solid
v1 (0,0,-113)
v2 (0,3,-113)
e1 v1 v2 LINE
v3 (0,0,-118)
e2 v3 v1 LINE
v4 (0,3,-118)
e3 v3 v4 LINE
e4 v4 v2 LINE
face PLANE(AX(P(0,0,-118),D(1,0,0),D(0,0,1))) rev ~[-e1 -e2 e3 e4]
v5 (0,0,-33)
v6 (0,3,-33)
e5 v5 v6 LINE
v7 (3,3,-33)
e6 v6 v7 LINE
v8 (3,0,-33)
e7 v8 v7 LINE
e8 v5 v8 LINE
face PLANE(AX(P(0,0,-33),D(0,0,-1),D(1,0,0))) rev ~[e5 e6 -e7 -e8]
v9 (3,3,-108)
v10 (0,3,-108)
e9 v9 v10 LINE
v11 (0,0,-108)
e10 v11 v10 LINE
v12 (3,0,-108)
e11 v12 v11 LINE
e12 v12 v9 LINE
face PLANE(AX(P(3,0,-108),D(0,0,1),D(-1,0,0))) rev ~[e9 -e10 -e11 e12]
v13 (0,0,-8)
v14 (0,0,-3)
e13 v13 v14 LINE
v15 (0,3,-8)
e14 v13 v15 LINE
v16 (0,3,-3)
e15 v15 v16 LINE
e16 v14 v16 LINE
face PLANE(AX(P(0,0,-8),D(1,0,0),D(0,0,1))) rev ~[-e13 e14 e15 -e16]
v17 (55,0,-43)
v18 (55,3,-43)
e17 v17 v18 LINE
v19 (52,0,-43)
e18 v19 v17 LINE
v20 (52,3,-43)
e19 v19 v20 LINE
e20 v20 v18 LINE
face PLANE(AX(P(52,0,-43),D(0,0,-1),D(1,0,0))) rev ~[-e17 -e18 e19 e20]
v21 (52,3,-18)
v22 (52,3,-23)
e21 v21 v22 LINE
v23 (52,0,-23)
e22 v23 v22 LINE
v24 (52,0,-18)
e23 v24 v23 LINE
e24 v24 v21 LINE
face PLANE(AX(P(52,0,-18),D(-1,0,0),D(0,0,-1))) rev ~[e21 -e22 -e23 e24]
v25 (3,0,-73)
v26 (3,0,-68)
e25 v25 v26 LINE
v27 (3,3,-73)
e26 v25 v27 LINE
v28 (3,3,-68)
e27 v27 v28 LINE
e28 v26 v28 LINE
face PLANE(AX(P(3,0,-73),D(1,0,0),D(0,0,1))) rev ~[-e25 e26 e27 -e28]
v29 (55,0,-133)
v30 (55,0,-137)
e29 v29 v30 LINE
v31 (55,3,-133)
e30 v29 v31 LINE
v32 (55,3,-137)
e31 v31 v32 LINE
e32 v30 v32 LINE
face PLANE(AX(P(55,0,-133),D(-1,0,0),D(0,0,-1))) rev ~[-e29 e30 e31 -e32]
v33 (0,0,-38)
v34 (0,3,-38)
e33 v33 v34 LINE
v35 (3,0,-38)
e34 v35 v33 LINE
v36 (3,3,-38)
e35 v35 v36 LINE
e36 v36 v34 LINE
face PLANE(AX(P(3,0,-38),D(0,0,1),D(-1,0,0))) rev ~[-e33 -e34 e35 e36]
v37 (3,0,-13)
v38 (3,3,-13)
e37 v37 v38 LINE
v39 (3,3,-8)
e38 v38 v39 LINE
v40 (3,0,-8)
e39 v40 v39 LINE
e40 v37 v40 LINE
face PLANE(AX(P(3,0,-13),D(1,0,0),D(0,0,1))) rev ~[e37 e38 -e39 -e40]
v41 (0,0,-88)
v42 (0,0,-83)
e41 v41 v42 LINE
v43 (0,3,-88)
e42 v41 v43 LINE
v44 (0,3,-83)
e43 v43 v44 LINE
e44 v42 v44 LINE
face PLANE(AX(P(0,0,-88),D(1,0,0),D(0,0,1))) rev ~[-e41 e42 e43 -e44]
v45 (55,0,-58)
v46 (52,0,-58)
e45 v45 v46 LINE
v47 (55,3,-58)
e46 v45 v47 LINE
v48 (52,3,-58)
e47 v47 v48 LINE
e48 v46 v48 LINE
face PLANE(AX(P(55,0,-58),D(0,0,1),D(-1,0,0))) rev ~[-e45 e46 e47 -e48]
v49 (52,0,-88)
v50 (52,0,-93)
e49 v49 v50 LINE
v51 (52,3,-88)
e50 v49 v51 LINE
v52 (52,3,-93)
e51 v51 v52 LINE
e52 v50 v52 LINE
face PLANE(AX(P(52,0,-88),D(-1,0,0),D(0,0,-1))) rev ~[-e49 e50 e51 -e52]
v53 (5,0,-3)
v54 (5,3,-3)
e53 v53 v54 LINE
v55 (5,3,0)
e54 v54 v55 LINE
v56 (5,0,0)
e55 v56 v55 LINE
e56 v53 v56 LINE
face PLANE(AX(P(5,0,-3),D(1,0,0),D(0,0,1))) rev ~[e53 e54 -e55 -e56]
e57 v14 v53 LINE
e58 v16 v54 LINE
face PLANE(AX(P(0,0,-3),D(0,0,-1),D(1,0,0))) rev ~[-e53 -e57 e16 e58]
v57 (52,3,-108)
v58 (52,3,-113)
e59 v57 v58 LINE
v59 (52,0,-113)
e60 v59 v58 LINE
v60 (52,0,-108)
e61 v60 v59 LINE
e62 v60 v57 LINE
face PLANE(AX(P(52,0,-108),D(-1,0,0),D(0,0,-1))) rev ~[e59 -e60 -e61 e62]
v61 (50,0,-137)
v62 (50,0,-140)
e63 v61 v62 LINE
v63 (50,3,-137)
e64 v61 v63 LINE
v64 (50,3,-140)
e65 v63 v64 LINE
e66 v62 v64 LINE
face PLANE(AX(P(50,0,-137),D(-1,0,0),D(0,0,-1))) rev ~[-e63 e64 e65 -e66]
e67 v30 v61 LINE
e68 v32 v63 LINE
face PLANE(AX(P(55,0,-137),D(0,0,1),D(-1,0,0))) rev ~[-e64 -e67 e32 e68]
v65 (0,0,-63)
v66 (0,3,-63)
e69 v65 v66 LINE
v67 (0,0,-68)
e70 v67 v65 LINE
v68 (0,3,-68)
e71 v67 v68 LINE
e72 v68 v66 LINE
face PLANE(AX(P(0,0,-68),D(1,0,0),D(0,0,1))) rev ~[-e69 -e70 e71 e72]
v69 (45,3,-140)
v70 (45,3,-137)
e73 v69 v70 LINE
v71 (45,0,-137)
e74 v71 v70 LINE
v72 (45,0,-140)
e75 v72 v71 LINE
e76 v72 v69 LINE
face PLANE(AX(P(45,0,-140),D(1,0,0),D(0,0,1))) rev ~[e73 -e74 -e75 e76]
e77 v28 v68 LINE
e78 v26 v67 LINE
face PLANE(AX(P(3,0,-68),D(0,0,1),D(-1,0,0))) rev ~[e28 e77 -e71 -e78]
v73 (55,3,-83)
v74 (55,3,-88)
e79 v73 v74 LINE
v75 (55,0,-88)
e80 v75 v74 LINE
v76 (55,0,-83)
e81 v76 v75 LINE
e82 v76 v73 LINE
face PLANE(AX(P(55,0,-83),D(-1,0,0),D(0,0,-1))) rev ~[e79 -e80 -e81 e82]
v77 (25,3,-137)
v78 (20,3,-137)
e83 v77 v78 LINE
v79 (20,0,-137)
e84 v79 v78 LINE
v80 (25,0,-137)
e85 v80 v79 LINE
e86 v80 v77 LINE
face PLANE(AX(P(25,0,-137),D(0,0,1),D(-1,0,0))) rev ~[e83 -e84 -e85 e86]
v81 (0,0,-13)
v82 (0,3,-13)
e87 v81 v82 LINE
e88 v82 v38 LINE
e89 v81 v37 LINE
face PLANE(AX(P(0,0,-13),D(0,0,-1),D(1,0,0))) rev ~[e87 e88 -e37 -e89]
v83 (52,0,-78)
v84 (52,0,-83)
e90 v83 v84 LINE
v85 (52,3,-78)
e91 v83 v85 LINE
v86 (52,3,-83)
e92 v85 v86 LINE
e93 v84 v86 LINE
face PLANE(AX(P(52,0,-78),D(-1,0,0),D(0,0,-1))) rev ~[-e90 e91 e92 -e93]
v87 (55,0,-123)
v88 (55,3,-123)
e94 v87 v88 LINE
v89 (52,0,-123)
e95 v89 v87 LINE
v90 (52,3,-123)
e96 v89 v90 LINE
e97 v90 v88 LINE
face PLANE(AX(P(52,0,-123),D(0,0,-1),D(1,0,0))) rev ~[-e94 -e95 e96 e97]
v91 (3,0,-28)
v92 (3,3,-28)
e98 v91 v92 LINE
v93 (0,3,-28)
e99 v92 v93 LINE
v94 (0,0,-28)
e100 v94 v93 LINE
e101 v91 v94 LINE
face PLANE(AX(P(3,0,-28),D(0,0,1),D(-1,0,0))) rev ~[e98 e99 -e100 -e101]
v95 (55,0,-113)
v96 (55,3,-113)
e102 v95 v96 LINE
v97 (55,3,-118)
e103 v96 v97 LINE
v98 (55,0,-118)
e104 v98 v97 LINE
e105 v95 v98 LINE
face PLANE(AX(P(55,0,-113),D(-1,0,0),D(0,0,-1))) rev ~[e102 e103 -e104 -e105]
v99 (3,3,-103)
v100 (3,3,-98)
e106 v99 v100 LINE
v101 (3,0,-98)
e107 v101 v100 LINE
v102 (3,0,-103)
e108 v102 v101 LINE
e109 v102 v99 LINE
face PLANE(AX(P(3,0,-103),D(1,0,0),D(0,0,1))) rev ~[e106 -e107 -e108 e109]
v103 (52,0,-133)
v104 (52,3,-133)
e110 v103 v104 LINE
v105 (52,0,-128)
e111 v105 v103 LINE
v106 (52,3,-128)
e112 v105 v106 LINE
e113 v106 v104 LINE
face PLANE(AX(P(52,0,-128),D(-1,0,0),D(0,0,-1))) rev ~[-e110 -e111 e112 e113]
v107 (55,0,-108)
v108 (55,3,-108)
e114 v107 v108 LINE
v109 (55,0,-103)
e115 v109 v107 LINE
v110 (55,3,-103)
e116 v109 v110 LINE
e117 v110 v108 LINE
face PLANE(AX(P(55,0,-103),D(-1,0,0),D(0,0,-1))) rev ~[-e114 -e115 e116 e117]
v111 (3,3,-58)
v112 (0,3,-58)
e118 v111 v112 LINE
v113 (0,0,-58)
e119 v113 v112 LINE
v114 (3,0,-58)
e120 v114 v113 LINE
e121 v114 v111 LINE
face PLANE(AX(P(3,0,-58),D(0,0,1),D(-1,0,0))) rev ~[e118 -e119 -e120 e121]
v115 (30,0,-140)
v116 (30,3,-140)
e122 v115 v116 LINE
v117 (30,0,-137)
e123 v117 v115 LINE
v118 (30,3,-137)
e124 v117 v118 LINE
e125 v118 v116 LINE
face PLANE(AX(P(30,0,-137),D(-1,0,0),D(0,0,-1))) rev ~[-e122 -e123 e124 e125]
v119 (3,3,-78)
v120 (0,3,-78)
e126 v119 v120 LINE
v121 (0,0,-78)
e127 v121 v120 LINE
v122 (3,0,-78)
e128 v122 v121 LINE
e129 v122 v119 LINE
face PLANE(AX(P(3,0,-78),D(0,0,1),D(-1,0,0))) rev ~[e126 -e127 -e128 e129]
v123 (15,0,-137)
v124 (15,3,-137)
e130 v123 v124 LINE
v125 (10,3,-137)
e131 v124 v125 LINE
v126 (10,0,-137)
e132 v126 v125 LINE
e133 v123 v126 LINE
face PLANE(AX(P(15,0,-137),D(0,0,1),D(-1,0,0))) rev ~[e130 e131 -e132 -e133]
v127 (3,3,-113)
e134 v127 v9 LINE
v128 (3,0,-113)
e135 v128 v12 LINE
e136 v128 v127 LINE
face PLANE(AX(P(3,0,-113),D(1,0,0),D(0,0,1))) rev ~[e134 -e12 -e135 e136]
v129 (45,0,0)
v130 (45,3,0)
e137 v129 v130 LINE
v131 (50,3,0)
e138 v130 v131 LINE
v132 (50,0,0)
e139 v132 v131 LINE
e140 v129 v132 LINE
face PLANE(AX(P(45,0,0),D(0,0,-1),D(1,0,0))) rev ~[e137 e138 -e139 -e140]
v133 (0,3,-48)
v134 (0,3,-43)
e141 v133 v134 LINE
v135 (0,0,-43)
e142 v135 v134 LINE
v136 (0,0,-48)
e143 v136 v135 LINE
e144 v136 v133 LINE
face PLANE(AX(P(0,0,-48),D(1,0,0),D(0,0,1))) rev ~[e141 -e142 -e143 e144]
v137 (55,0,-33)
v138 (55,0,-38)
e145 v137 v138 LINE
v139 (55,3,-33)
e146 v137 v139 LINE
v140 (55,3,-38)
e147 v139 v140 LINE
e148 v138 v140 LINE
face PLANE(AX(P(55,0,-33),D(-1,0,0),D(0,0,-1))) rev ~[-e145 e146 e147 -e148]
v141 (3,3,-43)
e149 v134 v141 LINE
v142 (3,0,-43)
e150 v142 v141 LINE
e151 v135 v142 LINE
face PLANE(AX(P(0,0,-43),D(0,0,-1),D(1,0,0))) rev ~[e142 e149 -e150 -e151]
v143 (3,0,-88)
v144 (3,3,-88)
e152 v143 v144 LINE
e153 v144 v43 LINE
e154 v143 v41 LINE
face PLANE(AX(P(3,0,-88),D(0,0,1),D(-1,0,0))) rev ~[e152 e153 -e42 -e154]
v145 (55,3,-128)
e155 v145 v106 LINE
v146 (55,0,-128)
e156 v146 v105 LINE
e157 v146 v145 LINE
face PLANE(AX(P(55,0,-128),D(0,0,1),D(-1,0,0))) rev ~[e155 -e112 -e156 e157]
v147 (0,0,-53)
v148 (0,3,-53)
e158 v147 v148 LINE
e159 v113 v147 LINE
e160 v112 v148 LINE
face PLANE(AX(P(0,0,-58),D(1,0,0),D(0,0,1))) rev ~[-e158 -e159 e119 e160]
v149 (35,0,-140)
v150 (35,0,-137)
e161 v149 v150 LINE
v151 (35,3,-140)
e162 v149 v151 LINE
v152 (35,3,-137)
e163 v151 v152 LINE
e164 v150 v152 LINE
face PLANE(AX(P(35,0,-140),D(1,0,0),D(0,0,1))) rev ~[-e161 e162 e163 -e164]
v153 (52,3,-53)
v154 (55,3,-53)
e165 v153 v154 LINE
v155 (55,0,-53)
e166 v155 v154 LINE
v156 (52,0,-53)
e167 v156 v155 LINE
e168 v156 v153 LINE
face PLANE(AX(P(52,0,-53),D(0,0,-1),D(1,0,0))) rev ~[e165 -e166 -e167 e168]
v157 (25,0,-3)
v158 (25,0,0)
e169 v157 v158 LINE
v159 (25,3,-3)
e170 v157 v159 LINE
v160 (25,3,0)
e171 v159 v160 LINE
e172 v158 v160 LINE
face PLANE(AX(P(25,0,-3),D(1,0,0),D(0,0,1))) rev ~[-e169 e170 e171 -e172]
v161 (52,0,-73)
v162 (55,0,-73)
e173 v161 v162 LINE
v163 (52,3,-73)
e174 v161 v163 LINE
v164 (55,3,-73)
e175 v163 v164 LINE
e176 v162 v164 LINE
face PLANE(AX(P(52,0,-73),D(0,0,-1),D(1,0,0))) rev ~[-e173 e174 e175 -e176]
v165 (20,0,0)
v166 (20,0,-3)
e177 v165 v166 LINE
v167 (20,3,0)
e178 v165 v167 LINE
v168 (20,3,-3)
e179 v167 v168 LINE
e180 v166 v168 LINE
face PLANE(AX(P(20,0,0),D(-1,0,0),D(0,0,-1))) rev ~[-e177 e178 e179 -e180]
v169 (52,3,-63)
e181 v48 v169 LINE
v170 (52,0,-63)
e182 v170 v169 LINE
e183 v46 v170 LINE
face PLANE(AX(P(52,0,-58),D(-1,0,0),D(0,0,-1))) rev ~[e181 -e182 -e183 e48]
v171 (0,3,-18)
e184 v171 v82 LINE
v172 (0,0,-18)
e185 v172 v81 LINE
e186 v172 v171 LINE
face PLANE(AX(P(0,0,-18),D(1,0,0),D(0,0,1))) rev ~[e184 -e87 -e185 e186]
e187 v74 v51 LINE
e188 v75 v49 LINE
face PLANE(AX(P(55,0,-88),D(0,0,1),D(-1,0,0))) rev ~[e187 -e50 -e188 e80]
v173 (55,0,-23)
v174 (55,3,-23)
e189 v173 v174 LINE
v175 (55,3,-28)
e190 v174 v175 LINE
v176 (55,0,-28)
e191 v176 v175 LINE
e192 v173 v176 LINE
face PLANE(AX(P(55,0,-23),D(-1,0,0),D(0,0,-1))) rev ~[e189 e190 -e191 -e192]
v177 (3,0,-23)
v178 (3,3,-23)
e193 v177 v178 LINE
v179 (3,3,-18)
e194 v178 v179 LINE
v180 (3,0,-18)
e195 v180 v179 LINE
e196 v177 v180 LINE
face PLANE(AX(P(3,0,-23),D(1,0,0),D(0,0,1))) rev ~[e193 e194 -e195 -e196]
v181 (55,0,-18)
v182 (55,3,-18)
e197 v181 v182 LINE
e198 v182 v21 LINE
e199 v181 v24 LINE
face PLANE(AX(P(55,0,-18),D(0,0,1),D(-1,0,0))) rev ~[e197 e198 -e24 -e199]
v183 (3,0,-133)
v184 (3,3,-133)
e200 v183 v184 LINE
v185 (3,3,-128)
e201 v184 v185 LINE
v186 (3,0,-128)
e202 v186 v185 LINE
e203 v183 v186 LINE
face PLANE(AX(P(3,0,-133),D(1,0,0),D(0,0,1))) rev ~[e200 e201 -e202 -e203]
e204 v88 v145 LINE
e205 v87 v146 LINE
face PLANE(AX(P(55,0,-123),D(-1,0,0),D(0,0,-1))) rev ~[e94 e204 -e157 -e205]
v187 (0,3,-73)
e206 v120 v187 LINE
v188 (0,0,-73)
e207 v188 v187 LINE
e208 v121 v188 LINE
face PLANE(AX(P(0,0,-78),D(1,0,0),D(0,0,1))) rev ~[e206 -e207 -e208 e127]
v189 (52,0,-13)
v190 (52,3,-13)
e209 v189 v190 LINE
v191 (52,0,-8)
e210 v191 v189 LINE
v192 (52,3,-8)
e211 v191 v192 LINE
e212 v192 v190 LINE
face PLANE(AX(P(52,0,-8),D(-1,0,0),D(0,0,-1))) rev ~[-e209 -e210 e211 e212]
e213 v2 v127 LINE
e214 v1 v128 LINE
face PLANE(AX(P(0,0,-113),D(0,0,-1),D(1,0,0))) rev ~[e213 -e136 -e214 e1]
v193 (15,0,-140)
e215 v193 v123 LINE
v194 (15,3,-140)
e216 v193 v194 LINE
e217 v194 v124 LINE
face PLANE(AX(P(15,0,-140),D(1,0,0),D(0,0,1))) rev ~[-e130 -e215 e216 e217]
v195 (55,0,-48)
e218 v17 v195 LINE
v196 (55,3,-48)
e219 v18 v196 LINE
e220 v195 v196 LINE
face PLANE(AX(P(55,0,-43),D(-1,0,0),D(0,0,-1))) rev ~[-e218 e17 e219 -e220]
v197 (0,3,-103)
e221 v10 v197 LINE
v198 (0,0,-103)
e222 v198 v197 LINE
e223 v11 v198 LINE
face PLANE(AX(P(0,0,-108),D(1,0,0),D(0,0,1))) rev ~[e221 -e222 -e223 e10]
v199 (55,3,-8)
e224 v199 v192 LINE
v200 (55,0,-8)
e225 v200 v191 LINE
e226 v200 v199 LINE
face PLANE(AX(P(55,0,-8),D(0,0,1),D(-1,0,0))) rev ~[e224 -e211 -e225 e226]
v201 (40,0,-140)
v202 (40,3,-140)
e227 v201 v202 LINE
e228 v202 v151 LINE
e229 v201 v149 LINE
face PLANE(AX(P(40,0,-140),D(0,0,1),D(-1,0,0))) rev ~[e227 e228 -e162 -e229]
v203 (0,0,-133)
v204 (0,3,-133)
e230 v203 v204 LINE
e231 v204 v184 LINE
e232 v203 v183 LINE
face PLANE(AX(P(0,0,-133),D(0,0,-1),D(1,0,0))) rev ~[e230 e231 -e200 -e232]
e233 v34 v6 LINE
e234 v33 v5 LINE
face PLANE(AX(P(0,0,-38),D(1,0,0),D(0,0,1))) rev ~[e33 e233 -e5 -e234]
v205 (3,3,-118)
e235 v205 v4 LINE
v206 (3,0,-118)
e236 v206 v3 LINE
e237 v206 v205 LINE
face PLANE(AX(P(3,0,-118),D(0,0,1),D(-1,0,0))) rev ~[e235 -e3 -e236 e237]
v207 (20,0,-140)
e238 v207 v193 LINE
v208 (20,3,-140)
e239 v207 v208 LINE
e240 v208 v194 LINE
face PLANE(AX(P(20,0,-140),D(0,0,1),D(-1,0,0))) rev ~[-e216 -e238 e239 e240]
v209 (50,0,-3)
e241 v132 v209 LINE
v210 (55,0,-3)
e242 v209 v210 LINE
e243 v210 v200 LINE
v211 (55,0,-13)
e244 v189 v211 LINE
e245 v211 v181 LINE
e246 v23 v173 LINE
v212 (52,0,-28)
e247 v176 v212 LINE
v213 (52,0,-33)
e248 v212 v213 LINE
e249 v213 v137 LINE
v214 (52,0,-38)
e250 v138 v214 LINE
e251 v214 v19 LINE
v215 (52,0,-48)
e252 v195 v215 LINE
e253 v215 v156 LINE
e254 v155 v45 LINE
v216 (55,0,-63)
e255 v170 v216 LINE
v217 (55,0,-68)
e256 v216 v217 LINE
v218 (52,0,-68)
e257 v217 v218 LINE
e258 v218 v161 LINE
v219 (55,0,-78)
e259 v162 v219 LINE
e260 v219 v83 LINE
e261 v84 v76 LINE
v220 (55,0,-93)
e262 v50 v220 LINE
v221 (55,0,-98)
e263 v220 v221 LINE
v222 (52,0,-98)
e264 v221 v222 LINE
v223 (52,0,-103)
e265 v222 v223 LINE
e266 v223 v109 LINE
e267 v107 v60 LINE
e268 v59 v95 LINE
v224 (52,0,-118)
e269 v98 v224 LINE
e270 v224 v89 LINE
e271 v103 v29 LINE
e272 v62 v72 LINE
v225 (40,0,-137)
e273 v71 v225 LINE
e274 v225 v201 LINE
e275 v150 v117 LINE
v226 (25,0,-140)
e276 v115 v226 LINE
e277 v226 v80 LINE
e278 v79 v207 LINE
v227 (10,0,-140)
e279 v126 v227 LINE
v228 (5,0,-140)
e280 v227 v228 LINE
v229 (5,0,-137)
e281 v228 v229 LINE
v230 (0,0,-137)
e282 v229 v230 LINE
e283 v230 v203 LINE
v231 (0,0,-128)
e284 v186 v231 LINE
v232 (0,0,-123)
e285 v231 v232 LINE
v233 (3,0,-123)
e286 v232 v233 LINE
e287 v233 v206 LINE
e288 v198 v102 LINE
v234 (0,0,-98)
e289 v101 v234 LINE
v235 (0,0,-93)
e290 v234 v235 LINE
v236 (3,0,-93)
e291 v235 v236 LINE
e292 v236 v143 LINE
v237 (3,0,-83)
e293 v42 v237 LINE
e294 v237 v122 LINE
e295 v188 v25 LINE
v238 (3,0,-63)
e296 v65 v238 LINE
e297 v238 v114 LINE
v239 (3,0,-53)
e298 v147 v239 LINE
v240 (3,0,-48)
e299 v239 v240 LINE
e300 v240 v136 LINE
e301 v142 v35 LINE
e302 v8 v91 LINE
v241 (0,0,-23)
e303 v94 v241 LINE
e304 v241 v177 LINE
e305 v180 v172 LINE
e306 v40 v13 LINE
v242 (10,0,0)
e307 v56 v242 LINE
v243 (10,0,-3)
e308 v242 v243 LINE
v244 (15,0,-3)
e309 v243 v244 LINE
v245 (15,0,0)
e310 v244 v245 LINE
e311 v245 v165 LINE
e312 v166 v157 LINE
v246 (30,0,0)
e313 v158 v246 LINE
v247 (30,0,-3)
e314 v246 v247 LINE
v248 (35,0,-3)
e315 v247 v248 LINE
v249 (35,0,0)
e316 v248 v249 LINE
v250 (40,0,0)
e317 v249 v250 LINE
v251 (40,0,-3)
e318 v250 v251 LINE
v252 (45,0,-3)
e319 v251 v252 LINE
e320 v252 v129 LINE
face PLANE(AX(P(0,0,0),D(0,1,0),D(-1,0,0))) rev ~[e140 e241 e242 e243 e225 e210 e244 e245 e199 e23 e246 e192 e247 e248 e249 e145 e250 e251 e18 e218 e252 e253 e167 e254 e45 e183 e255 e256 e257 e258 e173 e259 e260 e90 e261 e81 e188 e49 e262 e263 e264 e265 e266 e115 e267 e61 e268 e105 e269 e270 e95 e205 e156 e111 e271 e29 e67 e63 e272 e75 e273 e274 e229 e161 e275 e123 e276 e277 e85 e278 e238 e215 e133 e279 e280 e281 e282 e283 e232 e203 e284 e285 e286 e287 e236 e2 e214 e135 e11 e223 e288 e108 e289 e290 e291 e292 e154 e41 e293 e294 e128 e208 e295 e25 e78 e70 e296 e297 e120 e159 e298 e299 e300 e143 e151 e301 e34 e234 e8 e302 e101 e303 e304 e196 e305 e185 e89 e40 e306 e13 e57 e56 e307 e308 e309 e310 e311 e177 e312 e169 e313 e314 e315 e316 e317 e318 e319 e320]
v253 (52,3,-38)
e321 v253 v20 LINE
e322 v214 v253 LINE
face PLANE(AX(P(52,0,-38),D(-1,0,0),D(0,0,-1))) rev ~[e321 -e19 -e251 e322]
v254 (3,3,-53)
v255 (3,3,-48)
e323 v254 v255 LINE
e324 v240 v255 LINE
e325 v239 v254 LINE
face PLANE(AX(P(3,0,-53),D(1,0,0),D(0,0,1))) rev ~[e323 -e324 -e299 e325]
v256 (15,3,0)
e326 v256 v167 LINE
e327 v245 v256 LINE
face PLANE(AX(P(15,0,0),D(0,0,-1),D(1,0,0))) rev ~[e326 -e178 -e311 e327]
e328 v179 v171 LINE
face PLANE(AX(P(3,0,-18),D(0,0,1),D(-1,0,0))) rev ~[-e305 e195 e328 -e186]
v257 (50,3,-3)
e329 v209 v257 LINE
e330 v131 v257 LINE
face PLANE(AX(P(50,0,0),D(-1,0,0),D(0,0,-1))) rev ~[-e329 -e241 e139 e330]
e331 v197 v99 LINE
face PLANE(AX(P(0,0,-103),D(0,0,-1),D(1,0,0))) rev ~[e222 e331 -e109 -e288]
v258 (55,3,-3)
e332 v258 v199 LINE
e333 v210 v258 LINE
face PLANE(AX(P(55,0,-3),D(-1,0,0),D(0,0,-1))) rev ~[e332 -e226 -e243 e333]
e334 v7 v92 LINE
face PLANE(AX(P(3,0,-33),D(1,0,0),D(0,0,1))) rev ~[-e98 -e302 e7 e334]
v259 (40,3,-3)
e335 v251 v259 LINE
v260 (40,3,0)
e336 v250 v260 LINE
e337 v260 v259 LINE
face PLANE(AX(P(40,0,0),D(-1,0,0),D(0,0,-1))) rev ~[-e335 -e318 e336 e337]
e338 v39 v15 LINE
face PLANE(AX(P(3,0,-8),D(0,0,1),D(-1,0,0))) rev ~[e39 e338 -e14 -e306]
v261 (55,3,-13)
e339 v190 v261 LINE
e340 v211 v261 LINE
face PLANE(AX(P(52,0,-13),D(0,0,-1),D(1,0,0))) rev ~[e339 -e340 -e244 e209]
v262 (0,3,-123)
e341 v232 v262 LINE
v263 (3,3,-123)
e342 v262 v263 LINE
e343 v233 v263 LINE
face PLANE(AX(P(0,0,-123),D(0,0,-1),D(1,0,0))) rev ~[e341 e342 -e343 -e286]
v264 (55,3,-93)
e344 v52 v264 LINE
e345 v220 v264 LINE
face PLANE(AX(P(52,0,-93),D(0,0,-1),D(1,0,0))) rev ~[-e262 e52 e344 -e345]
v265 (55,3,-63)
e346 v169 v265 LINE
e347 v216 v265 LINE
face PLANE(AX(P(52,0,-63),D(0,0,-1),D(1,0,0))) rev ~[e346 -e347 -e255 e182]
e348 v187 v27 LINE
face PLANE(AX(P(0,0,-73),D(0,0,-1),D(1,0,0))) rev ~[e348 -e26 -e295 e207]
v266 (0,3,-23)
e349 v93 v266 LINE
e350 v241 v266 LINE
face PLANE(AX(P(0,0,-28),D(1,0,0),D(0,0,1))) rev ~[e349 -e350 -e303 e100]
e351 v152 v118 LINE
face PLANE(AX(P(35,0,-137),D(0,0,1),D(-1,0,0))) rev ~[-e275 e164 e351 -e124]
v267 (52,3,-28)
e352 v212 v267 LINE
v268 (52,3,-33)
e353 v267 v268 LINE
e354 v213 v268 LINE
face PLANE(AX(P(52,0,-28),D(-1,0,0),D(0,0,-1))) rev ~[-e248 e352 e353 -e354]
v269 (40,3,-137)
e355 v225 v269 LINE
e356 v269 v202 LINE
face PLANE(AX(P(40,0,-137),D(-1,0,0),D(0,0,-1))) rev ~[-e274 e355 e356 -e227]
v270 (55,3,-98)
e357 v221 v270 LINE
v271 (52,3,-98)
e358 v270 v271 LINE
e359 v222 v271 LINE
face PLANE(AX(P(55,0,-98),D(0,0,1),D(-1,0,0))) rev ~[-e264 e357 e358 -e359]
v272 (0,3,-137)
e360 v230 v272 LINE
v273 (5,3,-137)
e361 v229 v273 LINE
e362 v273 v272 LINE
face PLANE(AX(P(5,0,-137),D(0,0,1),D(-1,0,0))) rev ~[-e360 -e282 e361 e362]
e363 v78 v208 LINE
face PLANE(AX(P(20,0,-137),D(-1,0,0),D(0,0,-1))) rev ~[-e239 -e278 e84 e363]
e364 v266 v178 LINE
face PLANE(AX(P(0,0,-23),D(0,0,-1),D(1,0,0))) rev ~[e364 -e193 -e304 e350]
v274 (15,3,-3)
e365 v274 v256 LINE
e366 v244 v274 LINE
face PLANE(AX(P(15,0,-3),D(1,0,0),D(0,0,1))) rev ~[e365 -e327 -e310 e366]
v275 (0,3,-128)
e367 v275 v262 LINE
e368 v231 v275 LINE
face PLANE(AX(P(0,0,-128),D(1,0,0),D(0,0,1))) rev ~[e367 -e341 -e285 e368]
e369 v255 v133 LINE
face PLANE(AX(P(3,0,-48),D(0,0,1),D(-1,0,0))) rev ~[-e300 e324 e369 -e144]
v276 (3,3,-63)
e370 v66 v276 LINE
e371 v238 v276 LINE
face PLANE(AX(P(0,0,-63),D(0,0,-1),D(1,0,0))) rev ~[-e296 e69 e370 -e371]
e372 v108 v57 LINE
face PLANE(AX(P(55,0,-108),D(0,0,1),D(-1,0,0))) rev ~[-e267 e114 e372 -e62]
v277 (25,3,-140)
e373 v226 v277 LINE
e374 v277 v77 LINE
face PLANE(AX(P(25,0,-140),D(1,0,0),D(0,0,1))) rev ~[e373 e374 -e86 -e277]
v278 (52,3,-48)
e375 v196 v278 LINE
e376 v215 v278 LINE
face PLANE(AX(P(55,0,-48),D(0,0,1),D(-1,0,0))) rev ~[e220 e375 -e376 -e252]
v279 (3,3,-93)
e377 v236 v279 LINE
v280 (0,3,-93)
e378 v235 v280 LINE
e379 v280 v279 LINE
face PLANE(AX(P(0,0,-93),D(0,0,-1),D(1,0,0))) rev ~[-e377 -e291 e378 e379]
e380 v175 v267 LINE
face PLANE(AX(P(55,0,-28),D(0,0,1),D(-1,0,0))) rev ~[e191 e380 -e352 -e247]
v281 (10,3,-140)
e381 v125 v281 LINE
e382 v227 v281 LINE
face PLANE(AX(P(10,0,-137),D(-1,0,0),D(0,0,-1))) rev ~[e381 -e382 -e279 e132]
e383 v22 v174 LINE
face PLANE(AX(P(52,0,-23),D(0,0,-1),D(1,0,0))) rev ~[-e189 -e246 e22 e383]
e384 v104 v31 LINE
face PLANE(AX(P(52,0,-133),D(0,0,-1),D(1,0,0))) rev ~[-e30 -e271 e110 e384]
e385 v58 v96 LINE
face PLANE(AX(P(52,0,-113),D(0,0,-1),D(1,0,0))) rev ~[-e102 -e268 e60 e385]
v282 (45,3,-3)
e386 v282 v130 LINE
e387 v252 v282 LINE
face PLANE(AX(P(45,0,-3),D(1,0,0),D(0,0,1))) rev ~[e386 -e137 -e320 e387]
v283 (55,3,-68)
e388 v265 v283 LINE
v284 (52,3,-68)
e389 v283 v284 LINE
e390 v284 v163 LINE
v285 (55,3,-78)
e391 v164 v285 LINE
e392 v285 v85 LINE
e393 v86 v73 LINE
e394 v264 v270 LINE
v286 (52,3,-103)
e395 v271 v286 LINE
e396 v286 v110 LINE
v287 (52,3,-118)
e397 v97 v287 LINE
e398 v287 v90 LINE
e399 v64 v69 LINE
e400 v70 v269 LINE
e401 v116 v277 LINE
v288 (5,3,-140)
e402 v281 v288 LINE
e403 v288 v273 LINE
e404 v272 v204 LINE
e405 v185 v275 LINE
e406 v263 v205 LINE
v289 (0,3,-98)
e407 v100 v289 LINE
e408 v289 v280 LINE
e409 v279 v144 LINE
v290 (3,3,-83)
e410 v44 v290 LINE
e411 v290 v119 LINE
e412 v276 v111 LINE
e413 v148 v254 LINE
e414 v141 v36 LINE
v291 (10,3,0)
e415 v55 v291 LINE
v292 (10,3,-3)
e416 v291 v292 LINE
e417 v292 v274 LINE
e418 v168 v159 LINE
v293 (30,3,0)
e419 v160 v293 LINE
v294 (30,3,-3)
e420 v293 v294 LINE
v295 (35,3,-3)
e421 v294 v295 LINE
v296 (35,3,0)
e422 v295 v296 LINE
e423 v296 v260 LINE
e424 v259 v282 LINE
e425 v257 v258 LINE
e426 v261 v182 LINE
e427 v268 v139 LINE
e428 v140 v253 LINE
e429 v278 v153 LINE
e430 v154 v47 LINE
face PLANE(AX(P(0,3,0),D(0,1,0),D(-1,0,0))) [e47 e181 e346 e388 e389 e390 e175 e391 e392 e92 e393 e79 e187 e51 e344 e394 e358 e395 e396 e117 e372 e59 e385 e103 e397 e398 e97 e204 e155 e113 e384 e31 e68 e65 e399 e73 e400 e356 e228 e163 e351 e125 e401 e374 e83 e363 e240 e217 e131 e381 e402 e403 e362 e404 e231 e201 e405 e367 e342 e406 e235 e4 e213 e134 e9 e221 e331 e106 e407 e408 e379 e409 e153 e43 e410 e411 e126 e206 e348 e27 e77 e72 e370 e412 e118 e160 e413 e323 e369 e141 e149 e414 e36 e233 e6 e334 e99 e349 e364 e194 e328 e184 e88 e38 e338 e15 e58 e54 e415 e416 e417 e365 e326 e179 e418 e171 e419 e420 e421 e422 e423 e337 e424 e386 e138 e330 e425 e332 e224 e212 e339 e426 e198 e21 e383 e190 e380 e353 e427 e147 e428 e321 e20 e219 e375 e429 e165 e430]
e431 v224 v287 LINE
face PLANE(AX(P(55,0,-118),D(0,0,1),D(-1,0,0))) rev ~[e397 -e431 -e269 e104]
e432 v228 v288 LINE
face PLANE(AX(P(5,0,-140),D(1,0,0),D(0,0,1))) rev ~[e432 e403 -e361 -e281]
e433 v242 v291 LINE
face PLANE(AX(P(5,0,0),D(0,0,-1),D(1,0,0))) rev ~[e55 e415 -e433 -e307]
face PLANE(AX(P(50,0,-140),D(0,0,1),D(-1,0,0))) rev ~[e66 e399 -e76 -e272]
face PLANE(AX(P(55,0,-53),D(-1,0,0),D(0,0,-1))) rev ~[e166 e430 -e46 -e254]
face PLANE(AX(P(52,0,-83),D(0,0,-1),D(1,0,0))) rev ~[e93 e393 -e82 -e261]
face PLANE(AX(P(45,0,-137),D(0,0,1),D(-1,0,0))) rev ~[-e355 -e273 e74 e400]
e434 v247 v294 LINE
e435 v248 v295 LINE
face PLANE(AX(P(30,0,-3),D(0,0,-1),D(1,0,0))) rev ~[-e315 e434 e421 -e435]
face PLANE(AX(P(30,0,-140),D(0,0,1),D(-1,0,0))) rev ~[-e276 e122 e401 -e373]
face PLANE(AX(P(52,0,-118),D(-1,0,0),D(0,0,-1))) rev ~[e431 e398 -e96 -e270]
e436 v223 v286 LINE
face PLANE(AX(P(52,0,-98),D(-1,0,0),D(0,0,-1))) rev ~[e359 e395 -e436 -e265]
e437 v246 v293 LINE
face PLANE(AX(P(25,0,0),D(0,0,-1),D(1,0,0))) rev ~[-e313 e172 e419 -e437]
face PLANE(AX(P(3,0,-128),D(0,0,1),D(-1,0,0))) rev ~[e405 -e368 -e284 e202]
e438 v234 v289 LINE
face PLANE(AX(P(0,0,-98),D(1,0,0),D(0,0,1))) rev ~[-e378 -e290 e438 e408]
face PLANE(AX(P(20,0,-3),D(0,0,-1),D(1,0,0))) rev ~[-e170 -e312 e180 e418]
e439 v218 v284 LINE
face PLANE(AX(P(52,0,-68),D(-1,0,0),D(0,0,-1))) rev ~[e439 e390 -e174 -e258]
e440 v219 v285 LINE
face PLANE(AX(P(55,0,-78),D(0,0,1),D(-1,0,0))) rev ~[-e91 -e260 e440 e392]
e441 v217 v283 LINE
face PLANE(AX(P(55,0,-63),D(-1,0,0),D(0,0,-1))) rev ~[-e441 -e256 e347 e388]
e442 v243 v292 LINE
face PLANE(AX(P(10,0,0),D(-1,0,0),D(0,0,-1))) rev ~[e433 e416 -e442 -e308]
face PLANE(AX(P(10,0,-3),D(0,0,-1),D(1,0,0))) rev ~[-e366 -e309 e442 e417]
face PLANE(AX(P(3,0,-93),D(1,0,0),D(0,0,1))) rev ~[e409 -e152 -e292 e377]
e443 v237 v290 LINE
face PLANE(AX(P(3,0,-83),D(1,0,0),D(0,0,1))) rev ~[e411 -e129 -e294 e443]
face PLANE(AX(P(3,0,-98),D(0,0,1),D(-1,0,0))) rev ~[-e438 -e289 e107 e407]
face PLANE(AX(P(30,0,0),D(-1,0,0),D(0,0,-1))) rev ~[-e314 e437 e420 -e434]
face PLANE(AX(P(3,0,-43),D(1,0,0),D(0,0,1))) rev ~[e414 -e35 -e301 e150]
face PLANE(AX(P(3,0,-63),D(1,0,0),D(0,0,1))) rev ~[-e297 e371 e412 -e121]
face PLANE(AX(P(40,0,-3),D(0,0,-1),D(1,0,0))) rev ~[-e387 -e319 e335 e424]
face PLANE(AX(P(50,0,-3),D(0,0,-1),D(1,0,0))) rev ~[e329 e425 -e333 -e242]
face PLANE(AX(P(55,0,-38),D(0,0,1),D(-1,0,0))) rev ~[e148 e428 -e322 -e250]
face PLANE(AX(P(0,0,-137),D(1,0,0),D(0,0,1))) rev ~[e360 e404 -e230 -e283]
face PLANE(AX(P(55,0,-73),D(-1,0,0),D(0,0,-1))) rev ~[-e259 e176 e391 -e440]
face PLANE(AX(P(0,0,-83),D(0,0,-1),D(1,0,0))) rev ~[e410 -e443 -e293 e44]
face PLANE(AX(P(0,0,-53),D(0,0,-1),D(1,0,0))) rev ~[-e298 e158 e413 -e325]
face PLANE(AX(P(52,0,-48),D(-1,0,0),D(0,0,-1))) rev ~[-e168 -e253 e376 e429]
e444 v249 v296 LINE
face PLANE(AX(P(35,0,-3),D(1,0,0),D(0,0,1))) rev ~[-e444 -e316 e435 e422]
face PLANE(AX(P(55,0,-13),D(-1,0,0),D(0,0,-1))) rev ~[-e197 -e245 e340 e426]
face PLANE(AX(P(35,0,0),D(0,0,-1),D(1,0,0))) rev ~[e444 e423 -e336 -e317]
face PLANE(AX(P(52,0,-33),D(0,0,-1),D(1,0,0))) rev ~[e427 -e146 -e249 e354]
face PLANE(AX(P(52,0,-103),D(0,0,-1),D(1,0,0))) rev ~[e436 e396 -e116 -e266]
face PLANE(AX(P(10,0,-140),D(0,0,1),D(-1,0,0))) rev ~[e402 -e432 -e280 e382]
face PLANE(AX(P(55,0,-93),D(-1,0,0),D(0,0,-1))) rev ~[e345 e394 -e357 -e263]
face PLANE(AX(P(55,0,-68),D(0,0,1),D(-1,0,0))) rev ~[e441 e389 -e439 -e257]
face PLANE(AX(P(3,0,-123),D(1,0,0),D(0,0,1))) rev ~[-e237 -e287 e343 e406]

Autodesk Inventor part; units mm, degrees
ref_plane "YZ Plane" through (0, 0, 0) normal (1, 0, 0) x (0, 1, 0)
ref_plane "XZ Plane" through (0, 0, 0) normal (0, 1, 0) x (-1, 0, 0)
ref_plane "XY Plane" through (0, 0, 0) normal (0, 0, 1) x (1, 0, 0)
sketch "Skizze1" plane through (0, 0, 0) normal (0, 1, 0) x (-1, 0, 0)
  line L0 (0, -3) -> (-5, -3)
  line L1 (-5, -3) -> (-5, 0)
  line L2 (-5, 0) -> (-10, 0)
  line L3 (-10, 0) -> (-10, -3)
  line L4 (-10, -3) -> (-15, -3)
  line L5 (-15, -3) -> (-15, 0)
  line L6 (-15, 0) -> (-20, 0)
  line L7 (-20, 0) -> (-20, -3)
  line L8 (-20, -3) -> (-25, -3)
  line L9 (-25, -3) -> (-25, 0)
  line L10 (-25, 0) -> (-30, 0)
  line L11 (-30, 0) -> (-30, -3)
  line L12 (-30, -3) -> (-35, -3)
  line L13 (-35, -3) -> (-35, 0)
  line L14 (-35, 0) -> (-40, 0)
  line L15 (-40, 0) -> (-40, -3)
  line L16 (-40, -3) -> (-45, -3)
  line L17 (-45, -3) -> (-45, 0)
  line L18 (-45, 0) -> (-50, 0)
  line L19 (-50, 0) -> (-50, -3)
  line L20 (-50, -3) -> (-55, -3)
  line L21 (-55, -3) -> (-55, -8)
  line L22 (-55, -8) -> (-52, -8)
  line L23 (-52, -8) -> (-52, -13)
  line L24 (-52, -13) -> (-55, -13)
  line L25 (-52, -18) -> (-52, -23)
  line L26 (-55, -13) -> (-55, -18)
  line L27 (-55, -18) -> (-52, -18)
  line L28 (-52, -23) -> (-55, -23)
  line L29 (-52, -28) -> (-52, -33)
  line L30 (-55, -23) -> (-55, -28)
  line L31 (-55, -28) -> (-52, -28)
  line L32 (-52, -33) -> (-55, -33)
  line L33 (-52, -38) -> (-52, -43)
  line L34 (-55, -33) -> (-55, -38)
  line L35 (-55, -38) -> (-52, -38)
  line L36 (-52, -43) -> (-55, -43)
  line L37 (-52, -48) -> (-52, -53)
  line L38 (-55, -43) -> (-55, -48)
  line L39 (-55, -48) -> (-52, -48)
  line L40 (-52, -53) -> (-55, -53)
  line L41 (-52, -58) -> (-52, -63)
  line L42 (-55, -53) -> (-55, -58)
  line L43 (-55, -58) -> (-52, -58)
  line L44 (-52, -63) -> (-55, -63)
  line L45 (-52, -68) -> (-52, -73)
  line L46 (-55, -63) -> (-55, -68)
  line L47 (-55, -68) -> (-52, -68)
  line L48 (-52, -73) -> (-55, -73)
  line L49 (-52, -78) -> (-52, -83)
  line L50 (-55, -73) -> (-55, -78)
  line L51 (-55, -78) -> (-52, -78)
  line L52 (-52, -83) -> (-55, -83)
  line L53 (-52, -88) -> (-52, -93)
  line L54 (-55, -83) -> (-55, -88)
  line L55 (-55, -88) -> (-52, -88)
  line L56 (-52, -93) -> (-55, -93)
  line L57 (-52, -98) -> (-52, -103)
  line L58 (-55, -93) -> (-55, -98)
  line L59 (-55, -98) -> (-52, -98)
  line L60 (-52, -103) -> (-55, -103)
  line L61 (-55, -137) -> (-50, -137)
  line L62 (-50, -137) -> (-50, -140)
  line L63 (-50, -140) -> (-45, -140)
  line L64 (-45, -140) -> (-45, -137)
  line L65 (-45, -137) -> (-40, -137)
  line L66 (-40, -140) -> (-35, -140)
  line L67 (-35, -140) -> (-35, -137)
  line L68 (-40, -137) -> (-40, -140)
  line L69 (-35, -137) -> (-30, -137)
  line L70 (-30, -140) -> (-25, -140)
  line L71 (-25, -140) -> (-25, -137)
  line L72 (-30, -137) -> (-30, -140)
  line L73 (-25, -137) -> (-20, -137)
  line L74 (-20, -140) -> (-15, -140)
  line L75 (-15, -140) -> (-15, -137)
  line L76 (-20, -137) -> (-20, -140)
  line L77 (-15, -137) -> (-10, -137)
  line L78 (-10, -140) -> (-5, -140)
  line L79 (-5, -140) -> (-5, -137)
  line L80 (-10, -137) -> (-10, -140)
  line L81 (-5, -137) -> (0, -137)
  line L82 (0, -133) -> (-3, -133)
  line L83 (-3, -133) -> (-3, -128)
  line L84 (-3, -128) -> (0, -128)
  line L85 (0, -128) -> (0, -123)
  line L86 (-52, -108) -> (-52, -113)
  line L87 (-55, -103) -> (-55, -108)
  line L88 (-55, -108) -> (-52, -108)
  line L89 (-52, -113) -> (-55, -113)
  line L90 (-52, -118) -> (-52, -123)
  line L91 (-55, -113) -> (-55, -118)
  line L92 (-55, -118) -> (-52, -118)
  line L93 (-52, -123) -> (-55, -123)
  line L94 (0, -137) -> (0, -133)
  line L95 (-52, -128) -> (-52, -133)
  line L96 (-55, -123) -> (-55, -128)
  line L97 (-55, -128) -> (-52, -128)
  line L98 (-52, -133) -> (-55, -133)
  line L99 (-55, -133) -> (-55, -137)
  line L100 (-3, -123) -> (-3, -118)
  line L101 (0, -118) -> (0, -113)
  line L102 (-3, -118) -> (0, -118)
  line L103 (0, -123) -> (-3, -123)
  line L104 (-3, -113) -> (-3, -108)
  line L105 (0, -108) -> (0, -103)
  line L106 (-3, -108) -> (0, -108)
  line L107 (0, -113) -> (-3, -113)
  line L108 (-3, -103) -> (-3, -98)
  line L109 (0, -98) -> (0, -93)
  line L110 (-3, -98) -> (0, -98)
  line L111 (0, -103) -> (-3, -103)
  line L112 (-3, -93) -> (-3, -88)
  line L113 (0, -88) -> (0, -83)
  line L114 (-3, -88) -> (0, -88)
  line L115 (0, -93) -> (-3, -93)
  line L116 (-3, -83) -> (-3, -78)
  line L117 (0, -78) -> (0, -73)
  line L118 (-3, -78) -> (0, -78)
  line L119 (0, -83) -> (-3, -83)
  line L120 (-3, -73) -> (-3, -68)
  line L121 (0, -68) -> (0, -63)
  line L122 (-3, -68) -> (0, -68)
  line L123 (0, -73) -> (-3, -73)
  line L124 (-3, -63) -> (-3, -58)
  line L125 (0, -58) -> (0, -53)
  line L126 (-3, -58) -> (0, -58)
  line L127 (0, -63) -> (-3, -63)
  line L128 (-3, -53) -> (-3, -48)
  line L129 (0, -48) -> (0, -43)
  line L130 (-3, -48) -> (0, -48)
  line L131 (0, -53) -> (-3, -53)
  line L132 (-3, -43) -> (-3, -38)
  line L133 (0, -38) -> (0, -33)
  line L134 (-3, -38) -> (0, -38)
  line L135 (0, -43) -> (-3, -43)
  line L136 (-3, -33) -> (-3, -28)
  line L137 (0, -28) -> (0, -23)
  line L138 (-3, -28) -> (0, -28)
  line L139 (0, -33) -> (-3, -33)
  line L140 (-3, -23) -> (-3, -18)
  line L141 (0, -18) -> (0, -13)
  line L142 (-3, -18) -> (0, -18)
  line L143 (0, -23) -> (-3, -23)
  line L144 (-3, -13) -> (-3, -8)
  line L145 (0, -8) -> (0, -3)
  line L146 (-3, -8) -> (0, -8)
  line L147 (0, -13) -> (-3, -13)
  point P0 (0, 0)
  dimension "d0" = 3
  dimension "d1" = 5
  dimension "d4" = 10
  dimension "d11" = 10
  dimension "d16" = 140
  dimension "d19" = 10
  dimension "d42" = 10
extrude "Extrusion1" add sketch "Skizze1" along normal blind 3
properties part number "plate_bottom"
